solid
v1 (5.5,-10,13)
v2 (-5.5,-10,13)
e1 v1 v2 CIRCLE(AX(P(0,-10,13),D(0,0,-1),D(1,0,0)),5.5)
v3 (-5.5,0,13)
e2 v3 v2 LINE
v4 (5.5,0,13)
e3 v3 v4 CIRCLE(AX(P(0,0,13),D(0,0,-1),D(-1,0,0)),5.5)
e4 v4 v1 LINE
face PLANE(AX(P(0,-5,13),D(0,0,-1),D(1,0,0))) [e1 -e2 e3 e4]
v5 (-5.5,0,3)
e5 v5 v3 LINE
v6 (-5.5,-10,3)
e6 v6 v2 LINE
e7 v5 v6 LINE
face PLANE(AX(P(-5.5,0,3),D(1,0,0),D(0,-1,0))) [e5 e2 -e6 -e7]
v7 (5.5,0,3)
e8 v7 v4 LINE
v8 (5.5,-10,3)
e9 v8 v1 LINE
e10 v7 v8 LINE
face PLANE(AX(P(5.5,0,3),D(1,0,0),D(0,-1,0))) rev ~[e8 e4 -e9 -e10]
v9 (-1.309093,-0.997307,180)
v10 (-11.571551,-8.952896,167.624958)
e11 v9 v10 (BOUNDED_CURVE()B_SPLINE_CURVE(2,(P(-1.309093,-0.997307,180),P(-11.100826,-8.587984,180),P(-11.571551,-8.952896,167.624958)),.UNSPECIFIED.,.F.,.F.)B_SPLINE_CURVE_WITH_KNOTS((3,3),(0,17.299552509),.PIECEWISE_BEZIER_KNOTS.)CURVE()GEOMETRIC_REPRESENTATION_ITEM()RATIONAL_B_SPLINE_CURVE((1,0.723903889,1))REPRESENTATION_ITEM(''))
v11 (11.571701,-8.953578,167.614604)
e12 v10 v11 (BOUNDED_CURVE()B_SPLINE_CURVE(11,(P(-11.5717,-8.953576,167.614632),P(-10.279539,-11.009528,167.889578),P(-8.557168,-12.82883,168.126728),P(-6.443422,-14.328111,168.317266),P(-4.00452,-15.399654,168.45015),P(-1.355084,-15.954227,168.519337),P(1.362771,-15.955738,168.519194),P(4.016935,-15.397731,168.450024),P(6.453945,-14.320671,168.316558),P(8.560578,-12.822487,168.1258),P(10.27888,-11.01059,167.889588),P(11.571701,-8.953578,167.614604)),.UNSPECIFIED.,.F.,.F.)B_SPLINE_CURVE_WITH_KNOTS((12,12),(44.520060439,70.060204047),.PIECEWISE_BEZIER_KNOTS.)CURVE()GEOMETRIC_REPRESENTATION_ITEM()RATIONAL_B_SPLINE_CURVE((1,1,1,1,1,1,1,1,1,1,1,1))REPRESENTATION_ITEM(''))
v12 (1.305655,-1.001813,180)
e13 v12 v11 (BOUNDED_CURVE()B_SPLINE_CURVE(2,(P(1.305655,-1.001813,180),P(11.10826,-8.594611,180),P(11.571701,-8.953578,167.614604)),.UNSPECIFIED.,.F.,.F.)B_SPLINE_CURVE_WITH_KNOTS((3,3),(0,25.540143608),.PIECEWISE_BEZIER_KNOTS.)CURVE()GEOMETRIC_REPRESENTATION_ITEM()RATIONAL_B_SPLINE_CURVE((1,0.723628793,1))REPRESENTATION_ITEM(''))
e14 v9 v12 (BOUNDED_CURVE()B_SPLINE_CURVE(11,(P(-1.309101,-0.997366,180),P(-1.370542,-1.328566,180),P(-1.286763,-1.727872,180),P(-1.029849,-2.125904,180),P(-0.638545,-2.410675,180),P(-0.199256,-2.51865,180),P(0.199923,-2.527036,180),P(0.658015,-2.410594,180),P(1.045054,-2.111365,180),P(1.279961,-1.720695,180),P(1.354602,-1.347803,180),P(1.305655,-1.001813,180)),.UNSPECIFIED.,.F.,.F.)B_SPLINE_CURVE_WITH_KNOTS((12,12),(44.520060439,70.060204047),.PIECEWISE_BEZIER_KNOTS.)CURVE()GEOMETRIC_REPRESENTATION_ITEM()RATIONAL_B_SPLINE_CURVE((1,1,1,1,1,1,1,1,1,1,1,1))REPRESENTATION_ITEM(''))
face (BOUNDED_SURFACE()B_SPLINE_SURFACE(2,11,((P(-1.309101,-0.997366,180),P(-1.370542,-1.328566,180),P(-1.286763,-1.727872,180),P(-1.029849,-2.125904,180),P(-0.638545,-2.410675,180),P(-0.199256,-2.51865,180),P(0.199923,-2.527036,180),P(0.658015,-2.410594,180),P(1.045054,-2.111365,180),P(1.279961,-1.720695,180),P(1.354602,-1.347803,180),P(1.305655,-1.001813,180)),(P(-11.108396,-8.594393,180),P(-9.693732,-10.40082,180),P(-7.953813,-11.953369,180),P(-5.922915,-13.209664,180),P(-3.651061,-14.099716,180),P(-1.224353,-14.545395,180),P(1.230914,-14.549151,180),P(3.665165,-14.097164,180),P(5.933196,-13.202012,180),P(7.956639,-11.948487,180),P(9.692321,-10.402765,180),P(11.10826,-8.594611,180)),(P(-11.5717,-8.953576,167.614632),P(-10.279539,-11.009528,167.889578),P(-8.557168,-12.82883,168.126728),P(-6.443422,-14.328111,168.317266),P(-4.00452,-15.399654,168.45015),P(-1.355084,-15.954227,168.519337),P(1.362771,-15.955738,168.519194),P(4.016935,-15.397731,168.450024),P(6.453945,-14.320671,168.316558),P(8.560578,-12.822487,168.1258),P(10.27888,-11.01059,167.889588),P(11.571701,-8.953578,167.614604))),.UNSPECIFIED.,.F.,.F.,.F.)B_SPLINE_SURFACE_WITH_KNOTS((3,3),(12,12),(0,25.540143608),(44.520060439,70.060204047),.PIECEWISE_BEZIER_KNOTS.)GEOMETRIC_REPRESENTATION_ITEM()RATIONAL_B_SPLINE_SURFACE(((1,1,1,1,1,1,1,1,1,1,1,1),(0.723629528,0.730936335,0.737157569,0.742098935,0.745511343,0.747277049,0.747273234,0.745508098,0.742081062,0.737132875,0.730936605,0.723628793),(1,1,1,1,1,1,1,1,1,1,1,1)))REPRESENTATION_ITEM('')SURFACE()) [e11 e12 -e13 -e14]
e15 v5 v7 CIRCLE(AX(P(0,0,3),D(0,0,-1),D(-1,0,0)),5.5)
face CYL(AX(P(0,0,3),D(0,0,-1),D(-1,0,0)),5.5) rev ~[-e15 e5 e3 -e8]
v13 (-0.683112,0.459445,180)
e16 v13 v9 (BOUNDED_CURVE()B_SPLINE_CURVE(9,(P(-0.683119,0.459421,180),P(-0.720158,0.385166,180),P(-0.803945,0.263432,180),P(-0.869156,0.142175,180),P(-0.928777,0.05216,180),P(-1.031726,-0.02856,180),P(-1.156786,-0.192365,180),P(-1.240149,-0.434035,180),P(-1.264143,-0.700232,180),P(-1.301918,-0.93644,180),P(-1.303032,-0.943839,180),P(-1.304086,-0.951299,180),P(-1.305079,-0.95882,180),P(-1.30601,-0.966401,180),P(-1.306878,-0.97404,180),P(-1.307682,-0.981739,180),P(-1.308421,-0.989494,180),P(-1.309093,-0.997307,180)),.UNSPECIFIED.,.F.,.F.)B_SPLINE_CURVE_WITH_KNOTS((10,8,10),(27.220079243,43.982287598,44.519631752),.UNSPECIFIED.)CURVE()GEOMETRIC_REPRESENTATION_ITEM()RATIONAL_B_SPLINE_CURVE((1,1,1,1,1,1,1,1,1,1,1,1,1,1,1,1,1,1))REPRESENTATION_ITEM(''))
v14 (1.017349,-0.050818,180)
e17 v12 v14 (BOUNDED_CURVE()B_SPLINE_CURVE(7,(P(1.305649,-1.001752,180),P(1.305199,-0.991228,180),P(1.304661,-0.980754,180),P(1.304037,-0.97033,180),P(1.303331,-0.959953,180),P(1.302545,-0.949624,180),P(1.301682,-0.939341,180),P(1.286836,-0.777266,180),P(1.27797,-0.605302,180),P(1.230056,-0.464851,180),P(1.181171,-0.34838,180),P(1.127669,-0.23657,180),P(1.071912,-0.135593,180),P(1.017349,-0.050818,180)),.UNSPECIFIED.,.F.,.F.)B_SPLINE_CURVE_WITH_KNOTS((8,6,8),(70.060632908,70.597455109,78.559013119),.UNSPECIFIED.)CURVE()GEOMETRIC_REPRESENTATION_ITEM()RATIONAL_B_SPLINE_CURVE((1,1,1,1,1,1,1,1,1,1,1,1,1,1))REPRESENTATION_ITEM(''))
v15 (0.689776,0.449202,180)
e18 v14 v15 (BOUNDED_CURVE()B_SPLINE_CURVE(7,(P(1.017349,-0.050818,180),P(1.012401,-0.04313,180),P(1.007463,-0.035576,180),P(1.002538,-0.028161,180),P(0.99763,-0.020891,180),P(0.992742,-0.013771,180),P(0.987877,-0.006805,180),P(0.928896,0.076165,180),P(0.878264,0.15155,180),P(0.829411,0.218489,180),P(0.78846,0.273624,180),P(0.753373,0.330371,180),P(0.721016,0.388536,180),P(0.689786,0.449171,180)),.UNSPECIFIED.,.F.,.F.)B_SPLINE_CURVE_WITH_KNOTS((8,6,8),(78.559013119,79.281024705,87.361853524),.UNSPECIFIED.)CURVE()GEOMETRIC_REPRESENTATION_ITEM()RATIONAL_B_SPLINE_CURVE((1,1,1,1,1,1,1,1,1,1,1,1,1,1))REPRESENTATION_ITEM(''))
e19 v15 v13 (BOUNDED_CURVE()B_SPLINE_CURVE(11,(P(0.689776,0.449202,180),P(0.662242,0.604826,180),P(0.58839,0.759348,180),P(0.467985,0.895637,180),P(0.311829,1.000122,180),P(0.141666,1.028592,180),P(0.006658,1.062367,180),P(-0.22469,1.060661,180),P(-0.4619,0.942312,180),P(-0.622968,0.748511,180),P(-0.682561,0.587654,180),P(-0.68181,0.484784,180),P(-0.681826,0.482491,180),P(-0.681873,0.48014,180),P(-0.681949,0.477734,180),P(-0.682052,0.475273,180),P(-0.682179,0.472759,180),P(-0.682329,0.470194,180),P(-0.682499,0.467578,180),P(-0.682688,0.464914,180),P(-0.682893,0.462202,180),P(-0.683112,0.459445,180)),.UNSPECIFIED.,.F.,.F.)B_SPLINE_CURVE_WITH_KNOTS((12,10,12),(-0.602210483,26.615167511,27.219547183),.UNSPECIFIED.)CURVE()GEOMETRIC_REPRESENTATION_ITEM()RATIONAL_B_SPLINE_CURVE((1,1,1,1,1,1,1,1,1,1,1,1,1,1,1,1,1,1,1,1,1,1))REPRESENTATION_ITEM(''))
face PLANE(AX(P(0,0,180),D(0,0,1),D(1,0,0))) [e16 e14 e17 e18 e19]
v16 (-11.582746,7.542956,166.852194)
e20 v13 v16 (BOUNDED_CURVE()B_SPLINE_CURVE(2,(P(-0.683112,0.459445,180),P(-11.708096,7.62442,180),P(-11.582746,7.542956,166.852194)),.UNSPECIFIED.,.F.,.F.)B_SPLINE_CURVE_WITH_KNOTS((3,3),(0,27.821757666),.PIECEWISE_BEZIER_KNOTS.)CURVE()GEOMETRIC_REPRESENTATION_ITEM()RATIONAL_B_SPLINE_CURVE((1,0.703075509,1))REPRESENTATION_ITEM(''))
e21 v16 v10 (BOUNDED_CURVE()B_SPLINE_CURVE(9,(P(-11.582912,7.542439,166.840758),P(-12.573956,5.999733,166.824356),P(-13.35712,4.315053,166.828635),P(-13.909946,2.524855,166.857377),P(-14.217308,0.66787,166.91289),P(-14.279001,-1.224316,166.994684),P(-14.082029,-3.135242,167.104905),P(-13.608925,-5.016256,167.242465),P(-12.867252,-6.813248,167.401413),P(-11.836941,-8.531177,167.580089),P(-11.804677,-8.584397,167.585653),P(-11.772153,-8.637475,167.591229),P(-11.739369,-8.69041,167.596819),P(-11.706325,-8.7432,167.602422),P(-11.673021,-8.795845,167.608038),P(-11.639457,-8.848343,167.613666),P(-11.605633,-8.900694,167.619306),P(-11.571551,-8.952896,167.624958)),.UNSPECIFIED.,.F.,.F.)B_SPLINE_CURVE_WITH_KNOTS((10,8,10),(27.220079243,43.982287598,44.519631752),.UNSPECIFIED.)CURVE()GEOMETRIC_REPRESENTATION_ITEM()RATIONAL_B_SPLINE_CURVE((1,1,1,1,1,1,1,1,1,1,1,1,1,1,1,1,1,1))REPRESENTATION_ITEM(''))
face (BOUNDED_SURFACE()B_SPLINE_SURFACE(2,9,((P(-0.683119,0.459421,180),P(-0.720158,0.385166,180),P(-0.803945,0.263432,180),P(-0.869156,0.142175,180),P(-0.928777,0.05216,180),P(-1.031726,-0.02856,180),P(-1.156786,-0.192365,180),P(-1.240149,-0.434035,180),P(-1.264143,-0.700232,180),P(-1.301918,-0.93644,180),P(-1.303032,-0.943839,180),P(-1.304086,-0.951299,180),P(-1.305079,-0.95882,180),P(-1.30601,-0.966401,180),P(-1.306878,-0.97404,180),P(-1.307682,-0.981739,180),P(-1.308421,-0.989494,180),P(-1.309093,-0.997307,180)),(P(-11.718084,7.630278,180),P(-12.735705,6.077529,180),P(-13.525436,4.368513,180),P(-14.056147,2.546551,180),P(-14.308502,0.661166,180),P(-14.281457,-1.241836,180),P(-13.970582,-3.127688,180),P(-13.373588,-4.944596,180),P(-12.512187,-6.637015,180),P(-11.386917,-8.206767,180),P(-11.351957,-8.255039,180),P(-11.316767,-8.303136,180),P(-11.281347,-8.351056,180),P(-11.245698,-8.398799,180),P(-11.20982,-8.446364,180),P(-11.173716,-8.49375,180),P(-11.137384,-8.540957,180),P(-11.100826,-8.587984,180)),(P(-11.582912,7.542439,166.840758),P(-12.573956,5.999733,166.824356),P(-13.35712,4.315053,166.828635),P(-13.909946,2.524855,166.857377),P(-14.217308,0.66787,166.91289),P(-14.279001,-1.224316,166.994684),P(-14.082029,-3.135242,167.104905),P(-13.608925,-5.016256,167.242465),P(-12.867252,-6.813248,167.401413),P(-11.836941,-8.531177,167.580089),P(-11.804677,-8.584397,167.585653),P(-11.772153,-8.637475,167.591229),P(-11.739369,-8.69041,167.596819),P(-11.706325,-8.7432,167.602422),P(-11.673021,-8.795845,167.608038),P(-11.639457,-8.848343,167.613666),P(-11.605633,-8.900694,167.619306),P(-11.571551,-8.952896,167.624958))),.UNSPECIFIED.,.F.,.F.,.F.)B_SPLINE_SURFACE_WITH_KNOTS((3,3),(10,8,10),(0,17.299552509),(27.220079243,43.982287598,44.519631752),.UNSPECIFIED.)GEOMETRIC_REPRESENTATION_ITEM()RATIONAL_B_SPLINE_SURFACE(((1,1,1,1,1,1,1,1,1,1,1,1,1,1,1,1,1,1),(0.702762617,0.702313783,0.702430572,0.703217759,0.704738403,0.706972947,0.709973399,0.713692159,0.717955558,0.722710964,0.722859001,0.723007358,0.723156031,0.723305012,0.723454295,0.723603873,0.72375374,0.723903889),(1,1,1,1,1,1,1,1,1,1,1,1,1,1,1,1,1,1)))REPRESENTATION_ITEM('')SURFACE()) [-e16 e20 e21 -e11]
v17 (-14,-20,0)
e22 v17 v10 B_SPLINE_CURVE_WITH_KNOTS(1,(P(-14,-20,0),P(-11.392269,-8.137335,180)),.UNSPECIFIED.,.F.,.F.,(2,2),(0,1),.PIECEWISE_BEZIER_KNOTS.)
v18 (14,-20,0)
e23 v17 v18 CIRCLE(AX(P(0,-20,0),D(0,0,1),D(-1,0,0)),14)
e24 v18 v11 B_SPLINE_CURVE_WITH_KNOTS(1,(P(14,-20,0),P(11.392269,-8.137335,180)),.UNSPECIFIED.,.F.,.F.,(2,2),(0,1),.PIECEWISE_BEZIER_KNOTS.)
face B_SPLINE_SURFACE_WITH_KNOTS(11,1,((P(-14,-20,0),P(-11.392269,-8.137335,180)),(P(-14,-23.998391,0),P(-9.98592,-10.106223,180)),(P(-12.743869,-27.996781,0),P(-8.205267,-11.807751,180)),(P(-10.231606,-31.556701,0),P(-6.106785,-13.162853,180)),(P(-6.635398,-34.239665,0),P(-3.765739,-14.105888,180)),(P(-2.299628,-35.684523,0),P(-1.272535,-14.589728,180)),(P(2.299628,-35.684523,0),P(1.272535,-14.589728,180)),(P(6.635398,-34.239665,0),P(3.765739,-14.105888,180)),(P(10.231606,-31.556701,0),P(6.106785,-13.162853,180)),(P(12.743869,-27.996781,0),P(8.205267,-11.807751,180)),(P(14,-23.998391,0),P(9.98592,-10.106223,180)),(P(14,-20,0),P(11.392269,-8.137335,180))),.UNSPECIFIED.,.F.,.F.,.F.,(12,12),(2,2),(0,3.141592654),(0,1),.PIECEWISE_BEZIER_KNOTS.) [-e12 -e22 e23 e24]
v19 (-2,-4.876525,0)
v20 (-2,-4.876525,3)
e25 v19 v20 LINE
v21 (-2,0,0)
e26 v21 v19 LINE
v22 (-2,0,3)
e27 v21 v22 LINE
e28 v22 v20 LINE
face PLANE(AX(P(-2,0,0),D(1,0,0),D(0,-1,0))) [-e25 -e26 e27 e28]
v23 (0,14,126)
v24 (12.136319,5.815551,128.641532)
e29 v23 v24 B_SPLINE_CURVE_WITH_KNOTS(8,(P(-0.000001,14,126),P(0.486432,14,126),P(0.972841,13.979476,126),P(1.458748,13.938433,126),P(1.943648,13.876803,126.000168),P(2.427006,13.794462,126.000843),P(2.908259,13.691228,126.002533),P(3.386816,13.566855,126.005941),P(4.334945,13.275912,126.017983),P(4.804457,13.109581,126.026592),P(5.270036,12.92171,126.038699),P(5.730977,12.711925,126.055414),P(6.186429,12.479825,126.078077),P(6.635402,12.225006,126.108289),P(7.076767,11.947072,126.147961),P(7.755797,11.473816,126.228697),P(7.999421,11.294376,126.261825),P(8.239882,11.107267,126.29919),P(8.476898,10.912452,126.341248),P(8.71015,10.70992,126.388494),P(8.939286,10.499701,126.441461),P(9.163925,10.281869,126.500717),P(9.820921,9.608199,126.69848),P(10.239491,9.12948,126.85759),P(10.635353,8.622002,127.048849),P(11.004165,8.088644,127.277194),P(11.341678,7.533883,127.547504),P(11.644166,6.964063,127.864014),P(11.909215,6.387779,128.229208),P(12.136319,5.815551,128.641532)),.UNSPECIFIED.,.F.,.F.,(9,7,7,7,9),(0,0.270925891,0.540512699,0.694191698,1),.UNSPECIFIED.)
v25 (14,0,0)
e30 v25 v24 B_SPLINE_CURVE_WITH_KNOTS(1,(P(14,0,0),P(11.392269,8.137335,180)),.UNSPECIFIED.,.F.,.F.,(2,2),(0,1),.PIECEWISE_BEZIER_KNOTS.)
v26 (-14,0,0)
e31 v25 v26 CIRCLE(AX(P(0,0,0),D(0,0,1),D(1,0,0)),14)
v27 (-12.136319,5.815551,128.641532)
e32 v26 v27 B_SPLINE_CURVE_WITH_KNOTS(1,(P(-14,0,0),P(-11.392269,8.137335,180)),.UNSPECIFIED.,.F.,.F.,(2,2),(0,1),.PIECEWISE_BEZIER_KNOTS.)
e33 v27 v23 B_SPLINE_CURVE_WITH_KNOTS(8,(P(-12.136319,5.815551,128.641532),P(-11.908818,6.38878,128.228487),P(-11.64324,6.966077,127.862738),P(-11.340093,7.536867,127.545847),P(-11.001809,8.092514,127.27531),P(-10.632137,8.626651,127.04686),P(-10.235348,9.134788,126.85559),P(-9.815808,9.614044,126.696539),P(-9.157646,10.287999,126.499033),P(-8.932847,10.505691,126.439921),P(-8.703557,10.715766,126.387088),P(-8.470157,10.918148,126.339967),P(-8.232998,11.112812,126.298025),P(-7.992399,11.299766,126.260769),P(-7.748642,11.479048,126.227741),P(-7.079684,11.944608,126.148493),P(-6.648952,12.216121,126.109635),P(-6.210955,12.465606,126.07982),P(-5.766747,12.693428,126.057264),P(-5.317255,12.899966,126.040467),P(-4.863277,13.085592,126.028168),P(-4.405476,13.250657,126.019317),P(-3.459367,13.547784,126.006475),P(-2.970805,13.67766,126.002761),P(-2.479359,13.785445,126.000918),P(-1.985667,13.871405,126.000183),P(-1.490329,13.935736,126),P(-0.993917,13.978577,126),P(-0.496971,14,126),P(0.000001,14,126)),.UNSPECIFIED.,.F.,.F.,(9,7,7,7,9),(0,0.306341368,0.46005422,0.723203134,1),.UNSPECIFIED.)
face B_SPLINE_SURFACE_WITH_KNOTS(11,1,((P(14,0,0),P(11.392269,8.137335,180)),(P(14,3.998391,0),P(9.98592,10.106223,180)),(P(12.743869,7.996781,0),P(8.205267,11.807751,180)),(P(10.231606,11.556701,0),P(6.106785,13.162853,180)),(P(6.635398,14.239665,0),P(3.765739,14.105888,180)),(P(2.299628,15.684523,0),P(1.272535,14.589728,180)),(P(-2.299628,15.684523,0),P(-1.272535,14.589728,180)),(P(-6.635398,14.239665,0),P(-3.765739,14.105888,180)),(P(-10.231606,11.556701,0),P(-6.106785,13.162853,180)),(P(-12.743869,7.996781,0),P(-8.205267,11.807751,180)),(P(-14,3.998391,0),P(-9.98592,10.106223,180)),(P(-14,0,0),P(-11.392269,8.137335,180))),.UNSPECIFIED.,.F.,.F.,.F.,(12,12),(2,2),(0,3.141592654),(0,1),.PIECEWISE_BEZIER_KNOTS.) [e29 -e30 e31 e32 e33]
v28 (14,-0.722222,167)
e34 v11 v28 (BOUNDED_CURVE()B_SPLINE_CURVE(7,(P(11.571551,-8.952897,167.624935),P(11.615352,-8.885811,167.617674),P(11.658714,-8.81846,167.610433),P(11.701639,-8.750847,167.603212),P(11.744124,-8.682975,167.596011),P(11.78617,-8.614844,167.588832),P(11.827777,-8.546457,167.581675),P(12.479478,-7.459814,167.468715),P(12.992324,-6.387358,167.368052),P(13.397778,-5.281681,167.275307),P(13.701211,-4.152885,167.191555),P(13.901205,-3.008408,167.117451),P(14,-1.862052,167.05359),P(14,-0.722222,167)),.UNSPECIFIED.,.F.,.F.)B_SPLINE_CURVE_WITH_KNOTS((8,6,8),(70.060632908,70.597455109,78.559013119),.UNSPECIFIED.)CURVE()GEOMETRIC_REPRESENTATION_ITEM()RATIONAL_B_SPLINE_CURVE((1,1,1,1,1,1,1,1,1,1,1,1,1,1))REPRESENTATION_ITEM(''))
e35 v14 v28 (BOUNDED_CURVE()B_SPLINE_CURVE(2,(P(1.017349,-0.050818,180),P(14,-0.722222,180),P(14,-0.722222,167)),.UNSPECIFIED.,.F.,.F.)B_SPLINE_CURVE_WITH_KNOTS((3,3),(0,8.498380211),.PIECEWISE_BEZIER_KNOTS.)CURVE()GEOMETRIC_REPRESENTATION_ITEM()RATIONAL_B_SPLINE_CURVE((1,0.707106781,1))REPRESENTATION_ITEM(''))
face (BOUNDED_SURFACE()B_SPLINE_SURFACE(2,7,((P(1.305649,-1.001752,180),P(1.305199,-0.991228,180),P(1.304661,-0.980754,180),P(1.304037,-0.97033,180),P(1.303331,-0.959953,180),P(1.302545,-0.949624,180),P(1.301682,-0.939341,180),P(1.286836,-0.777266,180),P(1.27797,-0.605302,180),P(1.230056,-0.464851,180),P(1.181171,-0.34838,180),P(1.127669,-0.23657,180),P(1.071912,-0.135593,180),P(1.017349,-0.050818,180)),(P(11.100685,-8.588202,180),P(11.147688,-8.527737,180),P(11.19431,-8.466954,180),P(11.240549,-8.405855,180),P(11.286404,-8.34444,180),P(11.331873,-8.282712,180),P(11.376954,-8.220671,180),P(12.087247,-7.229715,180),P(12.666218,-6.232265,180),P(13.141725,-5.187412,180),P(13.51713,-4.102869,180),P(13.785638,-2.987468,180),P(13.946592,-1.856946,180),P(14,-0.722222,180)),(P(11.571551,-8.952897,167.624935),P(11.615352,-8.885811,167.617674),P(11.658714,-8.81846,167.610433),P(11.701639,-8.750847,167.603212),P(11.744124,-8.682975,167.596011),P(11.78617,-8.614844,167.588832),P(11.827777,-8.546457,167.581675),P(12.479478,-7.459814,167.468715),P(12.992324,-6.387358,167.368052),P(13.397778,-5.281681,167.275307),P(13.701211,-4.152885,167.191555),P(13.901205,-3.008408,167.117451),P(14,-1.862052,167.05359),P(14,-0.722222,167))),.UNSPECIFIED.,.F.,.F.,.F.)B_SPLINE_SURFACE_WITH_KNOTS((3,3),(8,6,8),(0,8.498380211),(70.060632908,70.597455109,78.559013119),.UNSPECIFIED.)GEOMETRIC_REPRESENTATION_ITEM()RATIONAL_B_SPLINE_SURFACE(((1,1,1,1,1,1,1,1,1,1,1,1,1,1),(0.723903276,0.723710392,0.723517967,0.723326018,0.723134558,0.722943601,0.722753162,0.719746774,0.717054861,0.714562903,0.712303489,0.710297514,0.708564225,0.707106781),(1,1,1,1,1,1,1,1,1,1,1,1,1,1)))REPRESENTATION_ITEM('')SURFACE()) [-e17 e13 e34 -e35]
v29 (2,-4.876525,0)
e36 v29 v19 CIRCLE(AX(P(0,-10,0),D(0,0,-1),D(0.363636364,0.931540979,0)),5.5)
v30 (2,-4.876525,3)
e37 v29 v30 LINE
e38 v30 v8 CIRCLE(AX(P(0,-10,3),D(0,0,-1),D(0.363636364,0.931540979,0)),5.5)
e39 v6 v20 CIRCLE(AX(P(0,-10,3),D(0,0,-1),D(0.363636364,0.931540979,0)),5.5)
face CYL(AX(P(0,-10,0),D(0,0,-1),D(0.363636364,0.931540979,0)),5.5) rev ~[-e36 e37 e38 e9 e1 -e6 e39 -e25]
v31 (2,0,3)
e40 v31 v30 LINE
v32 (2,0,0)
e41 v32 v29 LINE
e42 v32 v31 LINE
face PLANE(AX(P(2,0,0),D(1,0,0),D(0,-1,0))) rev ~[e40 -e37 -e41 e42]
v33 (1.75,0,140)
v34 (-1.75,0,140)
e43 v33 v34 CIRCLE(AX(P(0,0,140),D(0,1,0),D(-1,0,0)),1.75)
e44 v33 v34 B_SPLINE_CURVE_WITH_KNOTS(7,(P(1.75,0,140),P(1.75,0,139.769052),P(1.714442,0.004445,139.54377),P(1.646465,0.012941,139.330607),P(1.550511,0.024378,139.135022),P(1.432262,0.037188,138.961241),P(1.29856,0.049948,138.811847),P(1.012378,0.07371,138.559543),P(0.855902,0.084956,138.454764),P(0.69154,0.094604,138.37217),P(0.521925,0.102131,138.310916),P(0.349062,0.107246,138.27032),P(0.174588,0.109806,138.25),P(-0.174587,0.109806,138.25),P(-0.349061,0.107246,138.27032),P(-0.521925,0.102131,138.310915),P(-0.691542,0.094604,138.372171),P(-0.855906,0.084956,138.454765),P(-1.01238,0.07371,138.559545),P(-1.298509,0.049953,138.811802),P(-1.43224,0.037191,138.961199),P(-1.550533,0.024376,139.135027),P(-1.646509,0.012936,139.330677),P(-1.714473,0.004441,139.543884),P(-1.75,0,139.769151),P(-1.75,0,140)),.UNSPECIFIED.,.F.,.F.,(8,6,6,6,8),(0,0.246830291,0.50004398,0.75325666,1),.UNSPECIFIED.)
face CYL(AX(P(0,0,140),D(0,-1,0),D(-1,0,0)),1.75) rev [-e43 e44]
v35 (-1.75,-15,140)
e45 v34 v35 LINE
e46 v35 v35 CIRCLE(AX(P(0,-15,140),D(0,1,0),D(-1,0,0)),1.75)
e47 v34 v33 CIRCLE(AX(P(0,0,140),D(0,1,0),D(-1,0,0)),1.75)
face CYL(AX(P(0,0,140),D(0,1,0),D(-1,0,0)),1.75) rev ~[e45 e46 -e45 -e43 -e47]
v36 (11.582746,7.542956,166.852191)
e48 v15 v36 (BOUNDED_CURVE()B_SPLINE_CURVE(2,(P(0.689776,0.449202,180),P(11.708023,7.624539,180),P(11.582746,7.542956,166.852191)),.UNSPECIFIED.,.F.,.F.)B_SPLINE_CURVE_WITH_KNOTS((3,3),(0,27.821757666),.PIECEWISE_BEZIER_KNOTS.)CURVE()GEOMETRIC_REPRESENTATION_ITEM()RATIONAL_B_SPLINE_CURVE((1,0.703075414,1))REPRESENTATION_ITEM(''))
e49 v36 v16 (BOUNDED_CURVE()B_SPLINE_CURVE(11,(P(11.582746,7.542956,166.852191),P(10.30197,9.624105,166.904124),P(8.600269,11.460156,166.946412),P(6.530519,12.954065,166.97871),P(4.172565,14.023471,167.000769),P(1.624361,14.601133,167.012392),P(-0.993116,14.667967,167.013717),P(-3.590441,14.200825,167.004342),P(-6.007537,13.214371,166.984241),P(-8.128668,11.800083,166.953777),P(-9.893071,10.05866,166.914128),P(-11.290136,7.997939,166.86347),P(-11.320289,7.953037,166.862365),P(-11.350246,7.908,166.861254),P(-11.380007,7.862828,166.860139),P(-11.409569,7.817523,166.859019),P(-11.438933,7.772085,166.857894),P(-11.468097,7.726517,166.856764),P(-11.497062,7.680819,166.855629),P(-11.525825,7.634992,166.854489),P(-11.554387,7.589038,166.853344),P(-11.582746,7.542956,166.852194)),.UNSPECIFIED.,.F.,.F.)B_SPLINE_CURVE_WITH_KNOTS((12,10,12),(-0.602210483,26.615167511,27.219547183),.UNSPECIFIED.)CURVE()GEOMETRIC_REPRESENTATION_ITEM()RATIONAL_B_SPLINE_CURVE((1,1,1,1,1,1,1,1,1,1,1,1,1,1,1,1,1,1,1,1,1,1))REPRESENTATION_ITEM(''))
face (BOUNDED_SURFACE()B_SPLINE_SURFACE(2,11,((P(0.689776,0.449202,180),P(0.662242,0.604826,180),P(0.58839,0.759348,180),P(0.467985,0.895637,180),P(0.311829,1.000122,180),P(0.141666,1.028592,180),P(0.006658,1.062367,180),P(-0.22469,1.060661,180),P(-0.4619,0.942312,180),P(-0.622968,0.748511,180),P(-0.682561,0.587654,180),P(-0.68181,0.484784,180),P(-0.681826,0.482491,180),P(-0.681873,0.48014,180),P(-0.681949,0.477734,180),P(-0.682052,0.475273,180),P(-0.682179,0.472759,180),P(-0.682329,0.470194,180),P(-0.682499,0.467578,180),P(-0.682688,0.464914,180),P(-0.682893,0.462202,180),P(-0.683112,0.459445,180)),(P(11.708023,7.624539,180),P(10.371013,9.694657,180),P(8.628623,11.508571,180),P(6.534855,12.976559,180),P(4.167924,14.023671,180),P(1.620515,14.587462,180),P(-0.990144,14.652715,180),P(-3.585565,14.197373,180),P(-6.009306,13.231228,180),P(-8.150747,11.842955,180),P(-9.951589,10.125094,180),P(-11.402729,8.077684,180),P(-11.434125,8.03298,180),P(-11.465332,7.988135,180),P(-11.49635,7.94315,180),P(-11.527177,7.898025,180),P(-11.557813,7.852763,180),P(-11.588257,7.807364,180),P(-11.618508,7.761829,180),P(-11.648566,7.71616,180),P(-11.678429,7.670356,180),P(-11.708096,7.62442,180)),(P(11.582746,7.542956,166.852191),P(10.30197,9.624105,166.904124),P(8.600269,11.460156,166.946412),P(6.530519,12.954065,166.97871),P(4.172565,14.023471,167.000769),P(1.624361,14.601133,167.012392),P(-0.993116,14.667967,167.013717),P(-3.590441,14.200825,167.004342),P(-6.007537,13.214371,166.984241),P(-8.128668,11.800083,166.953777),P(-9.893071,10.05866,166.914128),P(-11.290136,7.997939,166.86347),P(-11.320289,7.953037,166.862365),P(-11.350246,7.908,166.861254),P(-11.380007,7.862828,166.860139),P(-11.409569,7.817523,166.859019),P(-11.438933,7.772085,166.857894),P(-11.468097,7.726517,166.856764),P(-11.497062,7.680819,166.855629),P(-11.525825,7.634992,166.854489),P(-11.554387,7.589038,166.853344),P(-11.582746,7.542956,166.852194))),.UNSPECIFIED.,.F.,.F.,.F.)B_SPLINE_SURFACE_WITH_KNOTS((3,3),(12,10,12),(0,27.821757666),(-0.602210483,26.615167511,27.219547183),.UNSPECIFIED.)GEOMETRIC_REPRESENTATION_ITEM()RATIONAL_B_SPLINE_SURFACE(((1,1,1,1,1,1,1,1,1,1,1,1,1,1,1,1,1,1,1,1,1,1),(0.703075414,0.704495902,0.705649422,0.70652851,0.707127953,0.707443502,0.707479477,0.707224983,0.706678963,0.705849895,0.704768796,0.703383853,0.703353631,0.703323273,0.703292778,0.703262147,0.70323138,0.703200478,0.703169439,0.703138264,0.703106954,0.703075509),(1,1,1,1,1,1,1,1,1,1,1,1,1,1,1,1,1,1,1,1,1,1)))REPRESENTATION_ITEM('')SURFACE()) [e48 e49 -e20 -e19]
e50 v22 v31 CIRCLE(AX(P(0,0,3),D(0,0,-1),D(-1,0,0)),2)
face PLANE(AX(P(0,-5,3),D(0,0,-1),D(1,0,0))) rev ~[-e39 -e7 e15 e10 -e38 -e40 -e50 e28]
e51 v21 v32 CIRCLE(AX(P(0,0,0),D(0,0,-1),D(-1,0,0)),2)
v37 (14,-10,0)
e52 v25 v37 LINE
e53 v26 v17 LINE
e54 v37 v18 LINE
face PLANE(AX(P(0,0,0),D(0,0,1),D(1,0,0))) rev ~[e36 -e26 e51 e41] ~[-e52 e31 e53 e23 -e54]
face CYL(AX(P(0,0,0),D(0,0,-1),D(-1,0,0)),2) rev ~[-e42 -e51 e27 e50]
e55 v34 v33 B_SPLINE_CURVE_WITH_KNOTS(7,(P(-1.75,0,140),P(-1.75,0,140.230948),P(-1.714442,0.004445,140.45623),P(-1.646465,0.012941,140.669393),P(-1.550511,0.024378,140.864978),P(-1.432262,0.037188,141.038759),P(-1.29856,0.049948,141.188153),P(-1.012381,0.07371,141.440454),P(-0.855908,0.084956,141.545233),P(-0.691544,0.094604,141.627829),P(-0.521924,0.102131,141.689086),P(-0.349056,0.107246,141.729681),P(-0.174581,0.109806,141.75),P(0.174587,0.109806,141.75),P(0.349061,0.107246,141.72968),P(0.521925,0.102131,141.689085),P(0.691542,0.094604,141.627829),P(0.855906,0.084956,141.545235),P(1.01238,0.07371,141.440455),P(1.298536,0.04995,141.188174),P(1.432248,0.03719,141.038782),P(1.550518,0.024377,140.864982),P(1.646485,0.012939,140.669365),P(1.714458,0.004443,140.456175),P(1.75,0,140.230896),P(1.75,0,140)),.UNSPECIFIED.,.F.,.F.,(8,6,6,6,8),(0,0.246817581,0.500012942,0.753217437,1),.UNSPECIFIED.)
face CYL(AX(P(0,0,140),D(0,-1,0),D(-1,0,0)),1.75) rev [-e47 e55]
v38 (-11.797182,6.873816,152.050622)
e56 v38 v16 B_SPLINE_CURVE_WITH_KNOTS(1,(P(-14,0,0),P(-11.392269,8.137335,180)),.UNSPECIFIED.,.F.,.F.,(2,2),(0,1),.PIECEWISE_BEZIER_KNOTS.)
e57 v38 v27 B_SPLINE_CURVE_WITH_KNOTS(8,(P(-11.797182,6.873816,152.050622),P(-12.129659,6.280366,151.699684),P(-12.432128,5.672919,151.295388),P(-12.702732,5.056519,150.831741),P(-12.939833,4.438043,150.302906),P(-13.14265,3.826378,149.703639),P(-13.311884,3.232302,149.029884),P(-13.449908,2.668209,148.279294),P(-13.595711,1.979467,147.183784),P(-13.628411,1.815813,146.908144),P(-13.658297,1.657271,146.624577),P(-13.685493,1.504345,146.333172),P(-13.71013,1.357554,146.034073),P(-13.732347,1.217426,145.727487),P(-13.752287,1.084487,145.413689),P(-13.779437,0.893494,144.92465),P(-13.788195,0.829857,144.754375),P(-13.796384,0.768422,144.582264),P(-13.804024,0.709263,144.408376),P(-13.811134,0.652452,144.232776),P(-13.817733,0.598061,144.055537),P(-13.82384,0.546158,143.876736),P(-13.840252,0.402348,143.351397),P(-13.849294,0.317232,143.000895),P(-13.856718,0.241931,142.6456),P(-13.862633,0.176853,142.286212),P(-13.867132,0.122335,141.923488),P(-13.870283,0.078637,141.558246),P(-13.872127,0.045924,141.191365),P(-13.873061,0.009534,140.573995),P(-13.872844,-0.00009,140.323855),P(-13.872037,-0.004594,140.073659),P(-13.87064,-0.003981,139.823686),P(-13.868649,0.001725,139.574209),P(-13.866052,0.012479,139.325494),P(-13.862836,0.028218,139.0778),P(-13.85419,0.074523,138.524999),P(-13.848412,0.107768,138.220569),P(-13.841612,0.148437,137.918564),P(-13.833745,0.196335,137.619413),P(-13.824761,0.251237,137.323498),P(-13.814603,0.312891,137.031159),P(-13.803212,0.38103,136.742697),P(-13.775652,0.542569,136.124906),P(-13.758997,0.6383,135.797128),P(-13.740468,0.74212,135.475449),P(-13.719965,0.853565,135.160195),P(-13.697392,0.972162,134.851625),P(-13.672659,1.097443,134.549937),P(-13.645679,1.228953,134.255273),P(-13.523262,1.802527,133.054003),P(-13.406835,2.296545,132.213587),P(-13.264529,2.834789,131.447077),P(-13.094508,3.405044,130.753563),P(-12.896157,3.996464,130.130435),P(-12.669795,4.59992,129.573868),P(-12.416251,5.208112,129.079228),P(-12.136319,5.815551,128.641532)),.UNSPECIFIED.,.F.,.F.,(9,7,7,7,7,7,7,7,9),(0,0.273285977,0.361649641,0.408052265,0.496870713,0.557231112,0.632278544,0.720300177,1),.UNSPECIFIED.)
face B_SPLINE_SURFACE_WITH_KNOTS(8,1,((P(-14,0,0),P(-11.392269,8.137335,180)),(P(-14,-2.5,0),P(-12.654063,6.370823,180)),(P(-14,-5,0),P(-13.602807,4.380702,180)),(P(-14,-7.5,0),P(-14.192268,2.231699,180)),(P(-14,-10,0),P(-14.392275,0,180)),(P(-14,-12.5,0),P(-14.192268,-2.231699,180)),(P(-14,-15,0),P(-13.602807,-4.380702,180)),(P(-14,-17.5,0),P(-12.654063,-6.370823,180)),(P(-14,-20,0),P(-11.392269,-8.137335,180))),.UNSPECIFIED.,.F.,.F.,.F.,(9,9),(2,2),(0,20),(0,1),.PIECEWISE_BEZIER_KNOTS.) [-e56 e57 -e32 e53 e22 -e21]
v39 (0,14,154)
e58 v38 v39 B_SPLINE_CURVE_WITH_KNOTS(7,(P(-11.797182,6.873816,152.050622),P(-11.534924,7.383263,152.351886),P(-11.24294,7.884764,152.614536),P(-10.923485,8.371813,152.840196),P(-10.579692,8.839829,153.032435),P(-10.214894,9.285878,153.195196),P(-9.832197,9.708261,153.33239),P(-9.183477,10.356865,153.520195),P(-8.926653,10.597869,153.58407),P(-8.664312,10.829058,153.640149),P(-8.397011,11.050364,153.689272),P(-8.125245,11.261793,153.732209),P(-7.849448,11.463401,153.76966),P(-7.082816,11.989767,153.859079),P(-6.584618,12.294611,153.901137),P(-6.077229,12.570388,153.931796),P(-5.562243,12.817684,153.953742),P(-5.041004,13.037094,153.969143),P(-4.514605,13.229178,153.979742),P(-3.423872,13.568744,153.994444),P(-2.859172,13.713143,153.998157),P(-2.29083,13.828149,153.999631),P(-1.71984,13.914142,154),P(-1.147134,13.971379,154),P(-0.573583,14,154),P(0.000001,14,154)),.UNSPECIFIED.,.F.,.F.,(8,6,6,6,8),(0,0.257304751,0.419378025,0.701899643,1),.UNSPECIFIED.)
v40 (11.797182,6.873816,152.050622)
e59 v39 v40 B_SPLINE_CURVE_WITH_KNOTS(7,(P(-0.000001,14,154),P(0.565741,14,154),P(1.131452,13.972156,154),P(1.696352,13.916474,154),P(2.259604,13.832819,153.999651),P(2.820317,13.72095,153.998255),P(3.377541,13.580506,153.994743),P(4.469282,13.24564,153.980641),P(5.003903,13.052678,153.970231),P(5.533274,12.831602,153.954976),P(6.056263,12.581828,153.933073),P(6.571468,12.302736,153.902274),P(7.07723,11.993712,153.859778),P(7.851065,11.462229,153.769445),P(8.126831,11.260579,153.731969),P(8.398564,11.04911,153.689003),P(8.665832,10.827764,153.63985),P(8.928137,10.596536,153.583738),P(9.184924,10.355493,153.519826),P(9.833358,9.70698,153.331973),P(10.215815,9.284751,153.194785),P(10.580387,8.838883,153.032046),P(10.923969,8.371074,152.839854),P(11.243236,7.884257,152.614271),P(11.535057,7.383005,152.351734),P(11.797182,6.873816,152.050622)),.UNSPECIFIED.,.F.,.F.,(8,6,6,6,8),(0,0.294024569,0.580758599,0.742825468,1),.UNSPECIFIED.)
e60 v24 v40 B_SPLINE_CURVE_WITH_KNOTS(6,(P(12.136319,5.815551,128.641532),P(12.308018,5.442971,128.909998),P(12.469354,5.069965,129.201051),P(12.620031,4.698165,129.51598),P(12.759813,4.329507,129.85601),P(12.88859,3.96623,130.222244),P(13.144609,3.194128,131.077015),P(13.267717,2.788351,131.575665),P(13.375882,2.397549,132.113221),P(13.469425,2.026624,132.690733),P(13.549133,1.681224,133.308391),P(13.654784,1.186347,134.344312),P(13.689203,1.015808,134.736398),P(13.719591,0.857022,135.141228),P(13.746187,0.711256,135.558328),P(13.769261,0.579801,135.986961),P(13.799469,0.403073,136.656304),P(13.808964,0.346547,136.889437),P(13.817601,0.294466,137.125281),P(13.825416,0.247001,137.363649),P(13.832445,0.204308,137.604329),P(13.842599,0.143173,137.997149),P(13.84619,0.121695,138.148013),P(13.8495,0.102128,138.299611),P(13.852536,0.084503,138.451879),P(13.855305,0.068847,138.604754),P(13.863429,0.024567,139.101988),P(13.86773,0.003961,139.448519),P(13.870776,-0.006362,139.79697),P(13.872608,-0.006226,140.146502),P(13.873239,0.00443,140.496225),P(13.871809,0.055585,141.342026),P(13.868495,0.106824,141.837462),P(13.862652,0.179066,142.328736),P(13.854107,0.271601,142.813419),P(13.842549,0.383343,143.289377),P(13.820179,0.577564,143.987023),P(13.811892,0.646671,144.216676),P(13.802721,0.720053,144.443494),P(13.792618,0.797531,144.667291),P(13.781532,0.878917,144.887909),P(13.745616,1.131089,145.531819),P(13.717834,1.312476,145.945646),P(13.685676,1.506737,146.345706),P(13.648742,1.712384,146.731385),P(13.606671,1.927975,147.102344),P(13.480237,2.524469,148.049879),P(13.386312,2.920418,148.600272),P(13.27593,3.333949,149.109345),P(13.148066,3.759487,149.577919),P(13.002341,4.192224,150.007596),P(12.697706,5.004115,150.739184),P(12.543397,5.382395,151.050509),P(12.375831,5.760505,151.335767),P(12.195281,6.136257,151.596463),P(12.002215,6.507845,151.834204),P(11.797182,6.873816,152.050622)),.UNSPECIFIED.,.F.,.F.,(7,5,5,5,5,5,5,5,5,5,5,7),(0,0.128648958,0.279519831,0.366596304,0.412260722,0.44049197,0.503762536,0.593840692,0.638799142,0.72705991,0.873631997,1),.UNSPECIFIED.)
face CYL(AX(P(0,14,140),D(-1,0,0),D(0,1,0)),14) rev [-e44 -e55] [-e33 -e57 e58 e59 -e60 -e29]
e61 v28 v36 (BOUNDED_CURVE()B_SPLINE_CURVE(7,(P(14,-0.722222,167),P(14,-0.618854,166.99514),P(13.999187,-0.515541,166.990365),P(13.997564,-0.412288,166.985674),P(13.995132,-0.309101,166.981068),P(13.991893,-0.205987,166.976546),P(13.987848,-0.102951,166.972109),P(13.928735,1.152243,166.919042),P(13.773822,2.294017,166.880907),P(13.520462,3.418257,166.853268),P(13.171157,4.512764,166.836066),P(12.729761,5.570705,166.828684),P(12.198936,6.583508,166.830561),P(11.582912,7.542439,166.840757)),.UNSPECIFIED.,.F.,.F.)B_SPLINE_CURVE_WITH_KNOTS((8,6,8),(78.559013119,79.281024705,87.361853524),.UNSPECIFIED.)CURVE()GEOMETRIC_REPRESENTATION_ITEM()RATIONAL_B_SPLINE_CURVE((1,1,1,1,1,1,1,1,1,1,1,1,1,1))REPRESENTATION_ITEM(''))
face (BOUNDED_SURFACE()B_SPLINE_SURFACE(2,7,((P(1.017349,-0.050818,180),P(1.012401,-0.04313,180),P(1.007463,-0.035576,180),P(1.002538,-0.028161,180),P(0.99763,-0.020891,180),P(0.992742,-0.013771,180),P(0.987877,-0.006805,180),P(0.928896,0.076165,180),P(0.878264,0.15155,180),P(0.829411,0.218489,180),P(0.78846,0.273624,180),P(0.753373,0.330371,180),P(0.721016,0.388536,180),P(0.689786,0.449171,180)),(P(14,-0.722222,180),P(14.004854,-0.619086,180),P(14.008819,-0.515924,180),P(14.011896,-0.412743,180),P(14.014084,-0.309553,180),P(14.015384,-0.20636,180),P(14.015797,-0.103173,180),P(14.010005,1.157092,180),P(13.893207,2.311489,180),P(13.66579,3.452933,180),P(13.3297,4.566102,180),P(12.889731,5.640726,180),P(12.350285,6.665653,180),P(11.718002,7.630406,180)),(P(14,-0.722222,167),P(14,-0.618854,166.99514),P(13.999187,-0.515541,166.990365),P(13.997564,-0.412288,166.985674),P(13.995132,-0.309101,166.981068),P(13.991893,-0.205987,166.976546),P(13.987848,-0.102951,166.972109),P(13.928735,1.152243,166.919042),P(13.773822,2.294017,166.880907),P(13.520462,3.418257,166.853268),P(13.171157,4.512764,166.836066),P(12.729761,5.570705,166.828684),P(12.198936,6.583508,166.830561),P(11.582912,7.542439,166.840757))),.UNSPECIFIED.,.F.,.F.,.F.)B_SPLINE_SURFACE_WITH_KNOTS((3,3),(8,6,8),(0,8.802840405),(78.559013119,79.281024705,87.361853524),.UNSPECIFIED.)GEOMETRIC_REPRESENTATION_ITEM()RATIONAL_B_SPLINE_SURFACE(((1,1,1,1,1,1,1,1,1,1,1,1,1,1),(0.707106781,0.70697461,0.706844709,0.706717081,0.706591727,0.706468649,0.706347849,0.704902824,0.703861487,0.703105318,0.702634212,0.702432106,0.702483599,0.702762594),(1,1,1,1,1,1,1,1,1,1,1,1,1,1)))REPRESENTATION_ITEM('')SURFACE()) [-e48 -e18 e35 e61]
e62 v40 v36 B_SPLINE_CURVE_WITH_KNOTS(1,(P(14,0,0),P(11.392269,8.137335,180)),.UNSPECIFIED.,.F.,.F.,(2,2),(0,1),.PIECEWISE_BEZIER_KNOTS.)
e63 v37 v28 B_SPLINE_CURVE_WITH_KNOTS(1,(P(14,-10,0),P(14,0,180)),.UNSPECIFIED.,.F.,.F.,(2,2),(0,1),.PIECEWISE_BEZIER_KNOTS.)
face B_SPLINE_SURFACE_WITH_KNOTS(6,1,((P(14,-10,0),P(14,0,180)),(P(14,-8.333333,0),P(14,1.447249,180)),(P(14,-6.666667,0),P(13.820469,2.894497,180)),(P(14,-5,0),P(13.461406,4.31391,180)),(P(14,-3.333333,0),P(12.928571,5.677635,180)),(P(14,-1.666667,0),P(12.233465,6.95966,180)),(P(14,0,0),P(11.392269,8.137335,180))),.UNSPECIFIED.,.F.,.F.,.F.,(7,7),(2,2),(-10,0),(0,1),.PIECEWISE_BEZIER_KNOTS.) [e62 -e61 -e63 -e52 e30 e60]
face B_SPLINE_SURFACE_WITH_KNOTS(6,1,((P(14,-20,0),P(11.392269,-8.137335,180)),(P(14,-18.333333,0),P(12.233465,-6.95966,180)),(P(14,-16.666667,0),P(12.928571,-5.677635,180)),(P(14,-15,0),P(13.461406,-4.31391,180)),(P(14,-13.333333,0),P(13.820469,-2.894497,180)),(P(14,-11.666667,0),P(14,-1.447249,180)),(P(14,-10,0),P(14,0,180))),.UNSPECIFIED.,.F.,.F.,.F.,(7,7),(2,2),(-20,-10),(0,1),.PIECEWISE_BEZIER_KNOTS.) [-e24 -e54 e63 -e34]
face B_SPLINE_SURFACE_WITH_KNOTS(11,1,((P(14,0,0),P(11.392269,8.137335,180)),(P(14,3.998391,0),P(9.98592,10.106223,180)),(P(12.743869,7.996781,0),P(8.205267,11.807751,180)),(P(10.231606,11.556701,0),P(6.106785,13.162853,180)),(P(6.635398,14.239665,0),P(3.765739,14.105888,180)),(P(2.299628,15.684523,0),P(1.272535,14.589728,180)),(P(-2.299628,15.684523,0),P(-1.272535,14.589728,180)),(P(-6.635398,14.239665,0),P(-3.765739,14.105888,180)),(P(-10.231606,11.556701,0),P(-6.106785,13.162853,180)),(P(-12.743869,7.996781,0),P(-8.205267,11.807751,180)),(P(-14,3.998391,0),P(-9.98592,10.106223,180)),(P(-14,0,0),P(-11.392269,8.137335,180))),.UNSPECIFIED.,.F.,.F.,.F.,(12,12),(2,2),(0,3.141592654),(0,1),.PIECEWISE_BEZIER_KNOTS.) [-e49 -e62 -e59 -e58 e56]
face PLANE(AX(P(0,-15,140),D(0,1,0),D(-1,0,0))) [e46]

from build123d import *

# Parameters (mm, degrees)
SKETCH001_R          = 14
SKETCH002_R          = 14
POCKET_DEPTH         = 14.001
POCKET_DEPTH_BACK    = -14.001
SKETCH003_R          = 1.75
POCKET001_DEPTH      = 15
POCKET001_DEPTH_BACK = -5
POCKET002_DEPTH      = 10
SKETCH005_R          = 5.5
POCKET003_DEPTH      = 3
FILLET_R             = 13


with BuildPart() as part:
    # Sketch → AdditiveLoft section 0
    with BuildSketch(Plane.XY):
        with BuildLine():
            ThreePointArc((14, 0), (0, 14), (-14, 0))
            Line((-14, 0), (-14, -20))
            ThreePointArc((-14, -20), (0, -34), (14, -20))
            Line((14, 0), (14, -20))
        make_face()
    # Sketch001 (on DatumPlane) → AdditiveLoft section 1
    with BuildSketch(Plane.XY.offset(180)):
        Circle(SKETCH001_R)
    loft()

    # Sketch002 (on DatumPlane) → Pocket (cut, two sides)
    with BuildSketch(Plane.YZ) as pocket_sk:
        with Locations((14, 140)):
            Circle(SKETCH002_R)
    extrude(amount=-POCKET_DEPTH, mode=Mode.SUBTRACT)
    extrude(pocket_sk.sketch, amount=-POCKET_DEPTH_BACK, mode=Mode.SUBTRACT)

    # Sketch003 (on DatumPlane) → Pocket001 (cut, two sides)
    with BuildSketch(Plane(origin=(0, 0, 0), x_dir=(-1, 0, 0), z_dir=(0, 1, 0))) as pocket001_sk:
        with Locations((0, 140)):
            Circle(SKETCH003_R)
    extrude(amount=-POCKET001_DEPTH, mode=Mode.SUBTRACT)
    extrude(pocket001_sk.sketch, amount=-POCKET001_DEPTH_BACK, mode=Mode.SUBTRACT)

    # Sketch004 (on DatumPlane) → Pocket002 (cut)
    with BuildSketch(Plane(origin=(0, 0, 3), x_dir=(1, 0, 0), z_dir=(0, 0, -1))):
        with BuildLine():
            ThreePointArc((-5.5, 0), (0, -5.5), (5.5, 0))
            Line((5.5, 0), (5.5, 10))
            ThreePointArc((5.5, 10), (0, 15.5), (-5.5, 10))
            Line((-5.5, 0), (-5.5, 10))
        make_face()
    extrude(amount=-POCKET002_DEPTH, mode=Mode.SUBTRACT)

    # Sketch005 (on Face1 of Pocket002) → Pocket003 (cut)
    with BuildSketch(Plane(origin=(0, 0, 0), x_dir=(1, 0, 0), z_dir=(0, 0, -1))):
        with Locations((0, 10)):
            Circle(SKETCH005_R)
        with BuildLine():
            ThreePointArc((-2, 0), (0, -2), (2, 0))
            Line((2, 0), (2, 10))
            ThreePointArc((2, 10), (0, 12), (-2, 10))
            Line((-2, 0), (-2, 10))
        make_face()
    extrude(amount=-POCKET003_DEPTH, mode=Mode.SUBTRACT)

    # Fillet
    fillet_edges = [part.edges().sort_by_distance(p)[0] for p in [
        (0, 14, 180),
        (-14, 0, 180),
        (0, -14, 180),
        (13.332137, -4.272484, 180),
        (13.332137, 4.272484, 180),
    ]]
    fillet(fillet_edges, radius=FILLET_R)


solid = part.part
